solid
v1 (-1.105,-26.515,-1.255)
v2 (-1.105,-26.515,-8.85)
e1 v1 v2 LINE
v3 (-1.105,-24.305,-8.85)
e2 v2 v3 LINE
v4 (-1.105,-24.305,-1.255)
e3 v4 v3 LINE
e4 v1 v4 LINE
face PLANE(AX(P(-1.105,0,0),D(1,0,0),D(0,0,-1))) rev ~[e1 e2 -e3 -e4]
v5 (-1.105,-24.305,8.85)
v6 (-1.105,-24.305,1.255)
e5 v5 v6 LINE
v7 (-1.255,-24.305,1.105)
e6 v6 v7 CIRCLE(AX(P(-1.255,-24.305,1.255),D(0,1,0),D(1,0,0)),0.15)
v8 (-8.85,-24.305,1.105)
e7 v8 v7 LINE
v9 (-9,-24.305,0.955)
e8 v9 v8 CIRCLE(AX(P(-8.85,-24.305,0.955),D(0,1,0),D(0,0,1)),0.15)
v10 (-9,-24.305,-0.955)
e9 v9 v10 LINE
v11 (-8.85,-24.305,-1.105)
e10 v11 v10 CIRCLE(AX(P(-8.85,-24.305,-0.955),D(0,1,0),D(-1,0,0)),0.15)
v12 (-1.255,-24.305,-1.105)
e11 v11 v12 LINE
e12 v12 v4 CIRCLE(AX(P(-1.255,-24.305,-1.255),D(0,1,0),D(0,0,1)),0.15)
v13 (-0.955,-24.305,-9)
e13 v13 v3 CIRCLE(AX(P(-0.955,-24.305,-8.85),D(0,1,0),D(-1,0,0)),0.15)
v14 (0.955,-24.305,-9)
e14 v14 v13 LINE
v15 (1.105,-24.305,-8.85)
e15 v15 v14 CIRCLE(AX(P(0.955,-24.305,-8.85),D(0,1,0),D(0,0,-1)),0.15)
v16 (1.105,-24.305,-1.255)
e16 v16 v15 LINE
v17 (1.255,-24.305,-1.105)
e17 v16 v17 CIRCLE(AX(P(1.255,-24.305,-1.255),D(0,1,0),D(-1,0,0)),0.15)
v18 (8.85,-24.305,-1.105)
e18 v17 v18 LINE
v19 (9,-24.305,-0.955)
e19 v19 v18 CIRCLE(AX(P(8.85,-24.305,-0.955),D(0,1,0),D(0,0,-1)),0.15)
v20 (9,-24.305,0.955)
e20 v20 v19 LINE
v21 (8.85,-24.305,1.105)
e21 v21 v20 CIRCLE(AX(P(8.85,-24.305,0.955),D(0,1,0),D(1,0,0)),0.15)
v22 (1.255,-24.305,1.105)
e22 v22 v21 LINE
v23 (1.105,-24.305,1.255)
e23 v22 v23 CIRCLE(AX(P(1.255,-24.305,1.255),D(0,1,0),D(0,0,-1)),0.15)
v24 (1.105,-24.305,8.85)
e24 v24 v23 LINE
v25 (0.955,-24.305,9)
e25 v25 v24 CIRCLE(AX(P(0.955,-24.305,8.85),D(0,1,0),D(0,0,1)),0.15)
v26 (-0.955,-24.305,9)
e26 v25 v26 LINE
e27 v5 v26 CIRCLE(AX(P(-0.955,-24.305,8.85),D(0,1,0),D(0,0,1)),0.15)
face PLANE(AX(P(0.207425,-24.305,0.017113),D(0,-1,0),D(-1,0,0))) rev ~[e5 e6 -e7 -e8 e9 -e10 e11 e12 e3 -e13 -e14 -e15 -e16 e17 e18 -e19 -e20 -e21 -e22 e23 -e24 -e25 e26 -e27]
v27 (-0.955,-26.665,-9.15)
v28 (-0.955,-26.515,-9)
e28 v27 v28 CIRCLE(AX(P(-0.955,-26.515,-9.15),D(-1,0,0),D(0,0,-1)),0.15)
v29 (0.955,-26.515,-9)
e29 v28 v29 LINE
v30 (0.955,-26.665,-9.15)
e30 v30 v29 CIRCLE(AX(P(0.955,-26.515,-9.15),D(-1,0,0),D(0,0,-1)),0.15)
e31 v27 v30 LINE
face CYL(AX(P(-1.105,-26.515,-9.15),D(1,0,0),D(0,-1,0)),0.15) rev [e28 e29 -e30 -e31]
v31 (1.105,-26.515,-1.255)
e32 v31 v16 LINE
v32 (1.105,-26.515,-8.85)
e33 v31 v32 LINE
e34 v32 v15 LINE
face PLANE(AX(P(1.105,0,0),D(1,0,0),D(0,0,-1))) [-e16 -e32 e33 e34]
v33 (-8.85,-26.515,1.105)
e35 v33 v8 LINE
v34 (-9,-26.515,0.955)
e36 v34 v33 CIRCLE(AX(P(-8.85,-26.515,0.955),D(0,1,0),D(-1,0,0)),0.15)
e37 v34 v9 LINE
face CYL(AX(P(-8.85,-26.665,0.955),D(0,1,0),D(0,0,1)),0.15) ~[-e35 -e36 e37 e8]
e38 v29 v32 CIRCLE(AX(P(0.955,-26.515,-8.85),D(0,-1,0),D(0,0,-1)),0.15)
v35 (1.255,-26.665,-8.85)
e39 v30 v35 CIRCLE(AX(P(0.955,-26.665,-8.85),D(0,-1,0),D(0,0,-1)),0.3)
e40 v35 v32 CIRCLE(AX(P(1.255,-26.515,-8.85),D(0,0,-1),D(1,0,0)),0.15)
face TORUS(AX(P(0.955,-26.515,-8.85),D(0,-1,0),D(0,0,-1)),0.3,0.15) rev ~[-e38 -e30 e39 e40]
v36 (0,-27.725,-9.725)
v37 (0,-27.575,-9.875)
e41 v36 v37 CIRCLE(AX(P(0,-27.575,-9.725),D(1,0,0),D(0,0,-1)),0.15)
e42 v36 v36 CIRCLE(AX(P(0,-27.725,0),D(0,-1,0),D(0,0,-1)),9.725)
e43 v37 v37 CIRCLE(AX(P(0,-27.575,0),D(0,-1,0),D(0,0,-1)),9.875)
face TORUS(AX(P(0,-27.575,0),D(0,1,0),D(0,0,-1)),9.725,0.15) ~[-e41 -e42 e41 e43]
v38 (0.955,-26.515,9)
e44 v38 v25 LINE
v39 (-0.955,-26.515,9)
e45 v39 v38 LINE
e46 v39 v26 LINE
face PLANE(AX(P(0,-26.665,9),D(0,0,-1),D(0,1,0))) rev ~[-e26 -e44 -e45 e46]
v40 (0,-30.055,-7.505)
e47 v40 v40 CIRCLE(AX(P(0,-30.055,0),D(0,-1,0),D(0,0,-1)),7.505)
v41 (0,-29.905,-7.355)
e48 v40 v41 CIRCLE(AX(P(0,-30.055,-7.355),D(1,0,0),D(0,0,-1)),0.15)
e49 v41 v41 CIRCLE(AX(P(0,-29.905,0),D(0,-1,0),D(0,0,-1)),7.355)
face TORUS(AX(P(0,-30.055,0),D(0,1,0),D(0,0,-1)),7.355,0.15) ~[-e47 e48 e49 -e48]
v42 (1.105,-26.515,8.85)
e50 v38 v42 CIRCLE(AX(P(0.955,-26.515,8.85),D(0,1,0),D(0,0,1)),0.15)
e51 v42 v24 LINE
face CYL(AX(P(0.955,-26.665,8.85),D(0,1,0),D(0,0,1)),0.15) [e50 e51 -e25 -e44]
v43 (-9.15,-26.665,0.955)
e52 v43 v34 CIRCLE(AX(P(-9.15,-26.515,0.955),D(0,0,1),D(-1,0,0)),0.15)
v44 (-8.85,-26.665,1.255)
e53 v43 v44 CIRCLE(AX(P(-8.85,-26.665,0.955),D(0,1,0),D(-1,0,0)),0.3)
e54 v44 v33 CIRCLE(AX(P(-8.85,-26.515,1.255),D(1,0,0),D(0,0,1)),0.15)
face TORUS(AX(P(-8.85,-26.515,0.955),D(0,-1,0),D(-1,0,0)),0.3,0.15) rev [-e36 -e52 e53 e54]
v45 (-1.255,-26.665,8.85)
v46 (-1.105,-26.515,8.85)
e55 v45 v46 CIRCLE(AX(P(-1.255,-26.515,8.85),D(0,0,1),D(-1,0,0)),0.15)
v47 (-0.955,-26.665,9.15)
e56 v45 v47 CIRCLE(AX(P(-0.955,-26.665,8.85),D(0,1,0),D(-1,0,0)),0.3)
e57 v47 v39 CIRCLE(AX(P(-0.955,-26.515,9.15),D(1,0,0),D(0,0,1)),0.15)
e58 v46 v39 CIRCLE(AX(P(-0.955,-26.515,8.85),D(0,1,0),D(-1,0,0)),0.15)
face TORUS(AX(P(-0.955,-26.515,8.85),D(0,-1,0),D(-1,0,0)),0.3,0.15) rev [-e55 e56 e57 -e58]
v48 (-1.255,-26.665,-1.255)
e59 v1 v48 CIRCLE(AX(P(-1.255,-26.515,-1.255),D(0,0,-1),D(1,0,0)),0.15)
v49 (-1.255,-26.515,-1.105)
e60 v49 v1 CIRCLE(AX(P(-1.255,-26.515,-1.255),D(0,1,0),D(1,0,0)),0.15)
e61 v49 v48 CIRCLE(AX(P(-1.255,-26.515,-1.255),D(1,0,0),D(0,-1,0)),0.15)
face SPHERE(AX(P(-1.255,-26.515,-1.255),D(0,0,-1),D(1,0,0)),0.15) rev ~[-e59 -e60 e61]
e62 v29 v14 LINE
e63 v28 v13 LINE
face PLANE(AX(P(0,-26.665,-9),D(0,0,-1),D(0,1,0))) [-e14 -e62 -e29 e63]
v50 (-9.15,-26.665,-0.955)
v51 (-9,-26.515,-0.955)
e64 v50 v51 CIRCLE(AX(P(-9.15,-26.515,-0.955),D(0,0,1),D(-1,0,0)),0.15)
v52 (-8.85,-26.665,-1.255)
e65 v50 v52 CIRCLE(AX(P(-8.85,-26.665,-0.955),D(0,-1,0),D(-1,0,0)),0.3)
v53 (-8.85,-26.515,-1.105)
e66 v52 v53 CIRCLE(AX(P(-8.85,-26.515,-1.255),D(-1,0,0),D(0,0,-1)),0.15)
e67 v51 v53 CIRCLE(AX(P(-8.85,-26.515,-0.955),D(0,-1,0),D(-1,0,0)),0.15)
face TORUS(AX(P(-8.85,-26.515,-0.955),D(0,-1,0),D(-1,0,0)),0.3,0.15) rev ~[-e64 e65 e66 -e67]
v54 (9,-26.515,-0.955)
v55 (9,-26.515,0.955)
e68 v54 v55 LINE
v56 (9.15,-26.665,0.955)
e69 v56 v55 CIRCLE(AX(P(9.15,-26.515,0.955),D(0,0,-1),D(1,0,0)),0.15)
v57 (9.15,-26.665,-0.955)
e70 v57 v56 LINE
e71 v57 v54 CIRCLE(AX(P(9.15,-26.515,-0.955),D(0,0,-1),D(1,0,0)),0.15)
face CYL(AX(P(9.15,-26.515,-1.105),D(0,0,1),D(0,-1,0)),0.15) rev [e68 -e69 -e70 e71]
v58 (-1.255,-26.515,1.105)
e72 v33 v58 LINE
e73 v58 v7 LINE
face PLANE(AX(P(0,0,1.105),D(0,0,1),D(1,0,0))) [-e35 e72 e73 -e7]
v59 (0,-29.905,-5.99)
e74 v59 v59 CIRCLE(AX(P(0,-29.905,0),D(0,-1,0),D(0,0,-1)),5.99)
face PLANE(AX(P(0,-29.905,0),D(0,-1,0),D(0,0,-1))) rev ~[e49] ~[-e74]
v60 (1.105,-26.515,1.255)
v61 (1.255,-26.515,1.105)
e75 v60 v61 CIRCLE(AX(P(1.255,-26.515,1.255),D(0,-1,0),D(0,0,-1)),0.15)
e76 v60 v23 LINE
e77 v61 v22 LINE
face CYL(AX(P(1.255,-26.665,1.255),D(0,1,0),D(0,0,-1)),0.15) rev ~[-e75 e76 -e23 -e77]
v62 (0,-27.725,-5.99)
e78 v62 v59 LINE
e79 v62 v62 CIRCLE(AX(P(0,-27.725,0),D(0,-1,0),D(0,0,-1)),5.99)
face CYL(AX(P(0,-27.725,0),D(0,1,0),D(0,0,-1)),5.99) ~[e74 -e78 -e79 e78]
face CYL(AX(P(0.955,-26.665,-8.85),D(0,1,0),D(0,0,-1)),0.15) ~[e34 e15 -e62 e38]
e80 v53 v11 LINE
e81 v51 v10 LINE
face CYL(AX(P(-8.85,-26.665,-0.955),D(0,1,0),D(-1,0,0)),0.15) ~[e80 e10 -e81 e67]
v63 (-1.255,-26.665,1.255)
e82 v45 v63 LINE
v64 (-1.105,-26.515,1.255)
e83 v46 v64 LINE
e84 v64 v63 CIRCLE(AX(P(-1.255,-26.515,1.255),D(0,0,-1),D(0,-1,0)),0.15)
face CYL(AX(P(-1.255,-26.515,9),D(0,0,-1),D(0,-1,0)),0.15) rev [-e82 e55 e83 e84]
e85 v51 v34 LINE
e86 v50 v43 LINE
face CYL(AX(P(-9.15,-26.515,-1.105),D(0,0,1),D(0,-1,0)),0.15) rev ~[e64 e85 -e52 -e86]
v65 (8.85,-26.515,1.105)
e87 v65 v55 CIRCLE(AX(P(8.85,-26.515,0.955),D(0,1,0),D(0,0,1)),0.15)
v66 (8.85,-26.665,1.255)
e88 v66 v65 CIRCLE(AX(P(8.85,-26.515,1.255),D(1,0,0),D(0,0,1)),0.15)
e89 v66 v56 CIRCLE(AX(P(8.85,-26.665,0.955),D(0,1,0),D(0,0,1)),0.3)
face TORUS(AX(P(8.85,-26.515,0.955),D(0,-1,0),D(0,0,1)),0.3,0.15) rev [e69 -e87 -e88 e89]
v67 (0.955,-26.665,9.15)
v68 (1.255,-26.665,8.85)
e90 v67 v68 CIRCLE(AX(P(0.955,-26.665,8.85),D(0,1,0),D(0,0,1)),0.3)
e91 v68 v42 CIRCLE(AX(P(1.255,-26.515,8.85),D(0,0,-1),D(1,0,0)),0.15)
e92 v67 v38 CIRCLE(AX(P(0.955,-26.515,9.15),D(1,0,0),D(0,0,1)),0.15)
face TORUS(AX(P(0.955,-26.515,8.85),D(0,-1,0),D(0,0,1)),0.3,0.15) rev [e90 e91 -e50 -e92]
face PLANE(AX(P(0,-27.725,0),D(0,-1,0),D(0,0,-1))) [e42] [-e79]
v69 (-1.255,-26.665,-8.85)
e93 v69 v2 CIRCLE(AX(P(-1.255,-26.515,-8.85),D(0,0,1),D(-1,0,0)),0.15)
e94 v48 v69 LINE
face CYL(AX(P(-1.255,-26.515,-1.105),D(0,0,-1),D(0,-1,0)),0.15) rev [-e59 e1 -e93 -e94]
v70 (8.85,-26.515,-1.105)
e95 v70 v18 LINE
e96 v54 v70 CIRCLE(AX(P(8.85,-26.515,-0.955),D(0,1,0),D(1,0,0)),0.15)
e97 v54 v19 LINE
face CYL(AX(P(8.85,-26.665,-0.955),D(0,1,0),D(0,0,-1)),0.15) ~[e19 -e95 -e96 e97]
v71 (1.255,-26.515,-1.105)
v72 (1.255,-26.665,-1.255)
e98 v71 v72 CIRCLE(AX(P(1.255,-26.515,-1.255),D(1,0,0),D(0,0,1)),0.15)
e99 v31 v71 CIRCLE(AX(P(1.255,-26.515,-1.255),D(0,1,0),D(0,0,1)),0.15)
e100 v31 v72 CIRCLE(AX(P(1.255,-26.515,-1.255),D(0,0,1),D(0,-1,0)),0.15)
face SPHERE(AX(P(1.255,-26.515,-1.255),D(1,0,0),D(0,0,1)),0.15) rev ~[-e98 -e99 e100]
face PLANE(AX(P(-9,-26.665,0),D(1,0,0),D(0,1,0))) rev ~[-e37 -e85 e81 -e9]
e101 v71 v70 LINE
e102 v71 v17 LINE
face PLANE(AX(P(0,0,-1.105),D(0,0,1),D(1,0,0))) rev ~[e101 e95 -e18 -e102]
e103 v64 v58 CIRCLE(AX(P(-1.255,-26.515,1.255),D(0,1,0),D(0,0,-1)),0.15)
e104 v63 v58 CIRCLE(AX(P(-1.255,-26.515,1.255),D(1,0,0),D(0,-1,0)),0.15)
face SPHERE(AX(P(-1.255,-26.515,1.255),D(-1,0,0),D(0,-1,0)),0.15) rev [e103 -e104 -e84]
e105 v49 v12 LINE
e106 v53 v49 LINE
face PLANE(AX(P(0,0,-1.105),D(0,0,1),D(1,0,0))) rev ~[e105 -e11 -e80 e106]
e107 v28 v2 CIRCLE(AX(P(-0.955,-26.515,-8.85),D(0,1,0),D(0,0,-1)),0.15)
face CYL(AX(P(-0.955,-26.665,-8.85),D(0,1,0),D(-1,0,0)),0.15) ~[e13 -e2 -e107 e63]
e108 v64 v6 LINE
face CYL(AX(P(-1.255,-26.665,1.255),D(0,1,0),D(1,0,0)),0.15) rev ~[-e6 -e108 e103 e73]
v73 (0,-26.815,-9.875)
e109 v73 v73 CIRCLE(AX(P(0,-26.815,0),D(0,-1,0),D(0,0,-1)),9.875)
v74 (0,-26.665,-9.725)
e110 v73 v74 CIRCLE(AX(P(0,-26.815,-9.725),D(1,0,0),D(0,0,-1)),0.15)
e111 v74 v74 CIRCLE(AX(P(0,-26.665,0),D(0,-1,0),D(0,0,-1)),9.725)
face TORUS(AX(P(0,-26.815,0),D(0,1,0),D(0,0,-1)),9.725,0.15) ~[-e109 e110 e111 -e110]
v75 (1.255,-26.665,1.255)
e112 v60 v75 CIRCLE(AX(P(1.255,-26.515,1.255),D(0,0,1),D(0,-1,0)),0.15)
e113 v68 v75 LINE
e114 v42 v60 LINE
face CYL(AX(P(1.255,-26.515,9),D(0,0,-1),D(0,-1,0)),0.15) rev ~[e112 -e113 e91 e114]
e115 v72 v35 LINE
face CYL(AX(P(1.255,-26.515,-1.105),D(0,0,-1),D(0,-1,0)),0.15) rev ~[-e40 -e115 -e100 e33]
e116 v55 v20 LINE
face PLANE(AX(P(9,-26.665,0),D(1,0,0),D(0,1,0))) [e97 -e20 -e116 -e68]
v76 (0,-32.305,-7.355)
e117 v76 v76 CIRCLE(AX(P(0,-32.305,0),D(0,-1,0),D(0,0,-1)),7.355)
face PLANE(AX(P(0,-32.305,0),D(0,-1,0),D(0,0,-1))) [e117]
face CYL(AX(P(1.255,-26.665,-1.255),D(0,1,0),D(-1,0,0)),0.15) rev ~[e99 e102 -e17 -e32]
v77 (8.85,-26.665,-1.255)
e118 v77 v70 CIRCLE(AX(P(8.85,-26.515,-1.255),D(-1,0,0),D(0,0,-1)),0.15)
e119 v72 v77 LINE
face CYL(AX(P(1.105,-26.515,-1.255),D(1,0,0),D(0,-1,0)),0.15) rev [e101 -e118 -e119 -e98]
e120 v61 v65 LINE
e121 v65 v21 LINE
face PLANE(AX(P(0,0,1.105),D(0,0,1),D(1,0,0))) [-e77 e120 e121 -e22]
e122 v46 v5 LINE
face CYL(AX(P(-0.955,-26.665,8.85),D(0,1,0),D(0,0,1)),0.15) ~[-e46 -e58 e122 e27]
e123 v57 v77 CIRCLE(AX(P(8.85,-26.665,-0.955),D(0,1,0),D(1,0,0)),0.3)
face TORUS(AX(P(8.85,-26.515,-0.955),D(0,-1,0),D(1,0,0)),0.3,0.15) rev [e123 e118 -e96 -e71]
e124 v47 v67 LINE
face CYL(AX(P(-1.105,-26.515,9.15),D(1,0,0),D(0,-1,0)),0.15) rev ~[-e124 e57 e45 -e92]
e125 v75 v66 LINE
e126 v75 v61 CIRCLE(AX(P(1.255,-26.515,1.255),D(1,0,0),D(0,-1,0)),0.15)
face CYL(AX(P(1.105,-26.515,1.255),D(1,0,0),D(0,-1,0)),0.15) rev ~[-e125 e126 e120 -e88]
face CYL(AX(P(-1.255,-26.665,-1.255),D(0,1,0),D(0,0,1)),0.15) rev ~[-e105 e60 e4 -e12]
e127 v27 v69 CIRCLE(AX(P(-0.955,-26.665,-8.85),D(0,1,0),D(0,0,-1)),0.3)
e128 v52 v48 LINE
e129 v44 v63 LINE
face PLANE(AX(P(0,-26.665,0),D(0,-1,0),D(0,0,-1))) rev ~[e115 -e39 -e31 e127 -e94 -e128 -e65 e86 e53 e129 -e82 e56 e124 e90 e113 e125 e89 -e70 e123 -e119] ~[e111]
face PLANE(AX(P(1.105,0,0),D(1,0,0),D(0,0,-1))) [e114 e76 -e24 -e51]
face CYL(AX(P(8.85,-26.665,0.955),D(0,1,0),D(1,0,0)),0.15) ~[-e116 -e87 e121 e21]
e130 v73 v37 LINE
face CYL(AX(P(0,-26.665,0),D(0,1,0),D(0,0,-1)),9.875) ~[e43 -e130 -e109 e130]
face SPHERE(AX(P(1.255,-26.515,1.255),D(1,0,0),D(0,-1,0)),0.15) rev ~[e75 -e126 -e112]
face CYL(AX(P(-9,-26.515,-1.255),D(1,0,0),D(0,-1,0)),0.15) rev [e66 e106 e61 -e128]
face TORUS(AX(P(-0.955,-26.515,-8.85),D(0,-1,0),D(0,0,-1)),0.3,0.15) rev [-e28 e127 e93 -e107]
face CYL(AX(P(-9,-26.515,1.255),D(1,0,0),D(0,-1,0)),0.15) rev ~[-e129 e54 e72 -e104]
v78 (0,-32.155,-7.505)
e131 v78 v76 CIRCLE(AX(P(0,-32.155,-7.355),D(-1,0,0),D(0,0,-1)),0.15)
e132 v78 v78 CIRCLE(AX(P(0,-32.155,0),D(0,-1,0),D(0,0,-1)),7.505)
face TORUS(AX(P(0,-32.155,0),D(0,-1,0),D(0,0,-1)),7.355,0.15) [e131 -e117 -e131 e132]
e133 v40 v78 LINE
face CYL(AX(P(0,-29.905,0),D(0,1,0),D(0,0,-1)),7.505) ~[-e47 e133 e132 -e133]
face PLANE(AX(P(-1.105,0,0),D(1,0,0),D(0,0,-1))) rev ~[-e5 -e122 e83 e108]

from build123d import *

# Parameters (mm, degrees)
MAIN_BODY_SKETCH_W                         = 18
MAIN_BODY_SKETCH_H                         = 53.33
HALF_MAIN_BODY_EXTRUDE_DEPTH               = 1.105
HALF_MAIN_BODY_COPY_ANGLE                  = 90
BOTTOM_BASE_SKETCH_R                       = 13
BOTTOM_BASE_EXTRUDE_DEPTH                  = 2.71
PROTRUSIONS_SKETCH_W                       = 1.88
PROTRUSIONS_SKETCH_H                       = 17.3
PROTRUSIONS_EXTRUDE_DEPTH                  = 0.97
PROTRUSIONS_SMOOTHING_R                    = 0.9
PROTRUSIONS_SMOOTHING_PLATFORM_R           = 0.1
LPATTERN1_COUNT                            = 3
LPATTERN1_PITCH                            = 3.76
PROTRUSIONS_SMOOTHING_OF_LPATTERN1_R       = 0.9
PROTRUSIONS_SMOOTHING_PLATFORM_OF_LPATTE_R = 0.1
LPATTERN1_COL_COUNT                        = 3
LPATTERN1_COL_PITCH                        = 3.76
PROTRUSIONS_SMOOTHING_OF_LPATTERN1_COL_R   = 0.9
PROTRUSIONS_SMOOTHING_PLATFORM_OF_LP_2_R   = 0.1
TOP_BASE_SKETCH_R                          = 9.875
TOP_BASE_EXTRUDE_DEPTH                     = 1.06
TOP_INTERMEDIATE_SKETCH_R                  = 5.99
TOP_INTERMEDIATE_BASE_EXTRUDE_DEPTH        = 2.18
OUTER_BASE_SKETCH_R                        = 7.505
OUTER_BASE_EXTRUDE_DEPTH                   = 2.4
SMOOTHING_FILLETS_R                        = 0.15
SKETCH2_W                                  = 38.243274693
SKETCH2_H                                  = 31.26110006
CUT_EXTRUDE1_DEPTH                         = 58.65953968


with BuildPart() as part:
    # Main Body Sketch → Half Main Body Extrude (new, symmetric)
    with BuildSketch(Plane.XY):
        Rectangle(MAIN_BODY_SKETCH_W, MAIN_BODY_SKETCH_H)
    extrude(amount=HALF_MAIN_BODY_EXTRUDE_DEPTH, both=True)


with BuildPart() as body_2:
    # Half Main Body Copy: copy of part
    add(part.part.rotate(Axis((0, 0, 0), (0, 1, 0)), HALF_MAIN_BODY_COPY_ANGLE))


with BuildPart() as part_1:
    add(part.part)

    add(body_2.part)  # Bottom Base Extrude merges body 2
    # Bottom Base Sketch → Bottom Base Extrude (add)
    with BuildSketch(Plane(origin=(0, 26.665, 0), x_dir=(1, 0, 0), z_dir=(0, 1, 0))):
        with Locations(Location((0, 0, 0), (0, 0, 270))):
            Circle(BOTTOM_BASE_SKETCH_R)
    extrude(amount=BOTTOM_BASE_EXTRUDE_DEPTH)

    # Protrusions Sketch → Protrusions Extrude (add)
    with BuildSketch(Plane(origin=(0, 29.375, 0), x_dir=(1, 0, 0), z_dir=(0, 1, 0))):
        Rectangle(PROTRUSIONS_SKETCH_W, PROTRUSIONS_SKETCH_H)
    protrusions_extrude = extrude(amount=PROTRUSIONS_EXTRUDE_DEPTH)

    # Protrusions Smoothing
    protrusions_smoothing_edges = [part_1.edges().sort_by_distance(p)[0] for p in [
        (0, 30.345, -8.65),
        (0.94, 29.86, -8.65),
        (-0.94, 30.345, 0),
        (-0.94, 29.86, -8.65),
        (-0.94, 29.86, 8.65),
        (0.94, 29.86, 8.65),
        (0, 30.345, 8.65),
        (0.94, 30.345, 0),
    ]]
    fillet(protrusions_smoothing_edges, radius=PROTRUSIONS_SMOOTHING_R)

    # Protrusions Smoothing Platform
    protrusions_smoothing_platform_edges = [part_1.edges().sort_by_distance(p)[0] for p in [
        (0, 29.375, 8.65),
        (0, 29.375, -8.65),
        (0.676396103, 29.375, -8.386396103),
        (0.94, 29.375, 0),
        (0.676396103, 29.375, 8.386396103),
        (-0.676396103, 29.375, -8.386396103),
        (-0.676396103, 29.375, 8.386396103),
        (-0.94, 29.375, 0),
    ]]
    fillet(protrusions_smoothing_platform_edges, radius=PROTRUSIONS_SMOOTHING_PLATFORM_R)

    # LPattern1: Protrusions Extrude ×3
    with Locations(*[(i * LPATTERN1_PITCH, 0, 0) for i in range(1, LPATTERN1_COUNT)]):
        add(protrusions_extrude)

    # Protrusions Smoothing of LPattern1
    protrusions_smoothing_of_lpattern1_edges = [part_1.edges().sort_by_distance(p)[0] for p in [
        (3.76, 30.345, -8.65),
        (4.7, 29.86, -8.65),
        (2.82, 30.345, 0),
        (2.82, 29.86, -8.65),
        (2.82, 29.86, 8.65),
        (4.7, 29.86, 8.65),
        (3.76, 30.345, 8.65),
        (4.7, 30.345, 0),
        (7.52, 30.345, -8.65),
        (8.46, 29.86, -8.65),
        (6.58, 30.345, 0),
        (6.58, 29.86, -8.65),
        (6.58, 29.86, 8.65),
        (8.46, 29.86, 8.65),
        (7.52, 30.345, 8.65),
        (8.46, 30.345, 0),
    ]]
    fillet(protrusions_smoothing_of_lpattern1_edges, radius=PROTRUSIONS_SMOOTHING_OF_LPATTERN1_R)

    # Protrusions Smoothing Platform of LPatte
    protrusions_smoothing_platform_of_lpatte_edges = [part_1.edges().sort_by_distance(p)[0] for p in [
        (3.76, 29.375, 8.65),
        (3.76, 29.375, -8.65),
        (4.436396103, 29.375, -8.386396103),
        (4.7, 29.375, 0),
        (4.436396103, 29.375, 8.386396103),
        (3.083603897, 29.375, -8.386396103),
        (3.083603897, 29.375, 8.386396103),
        (2.82, 29.375, 0),
        (7.52, 29.375, 8.65),
        (7.52, 29.375, -8.65),
        (8.196396103, 29.375, -8.386396103),
        (8.46, 29.375, 0),
        (8.196396103, 29.375, 8.386396103),
        (6.843603897, 29.375, -8.386396103),
        (6.843603897, 29.375, 8.386396103),
        (6.58, 29.375, 0),
    ]]
    fillet(protrusions_smoothing_platform_of_lpatte_edges, radius=PROTRUSIONS_SMOOTHING_PLATFORM_OF_LPATTE_R)

    # LPattern1 col: Protrusions Extrude ×3
    with Locations(*[(-i * LPATTERN1_COL_PITCH, 0, 0) for i in range(1, LPATTERN1_COL_COUNT)]):
        add(protrusions_extrude)

    # Protrusions Smoothing of LPattern1 col
    protrusions_smoothing_of_lpattern1_col_edges = [part_1.edges().sort_by_distance(p)[0] for p in [
        (-3.76, 30.345, -8.65),
        (-2.82, 29.86, -8.65),
        (-4.7, 30.345, 0),
        (-4.7, 29.86, -8.65),
        (-4.7, 29.86, 8.65),
        (-2.82, 29.86, 8.65),
        (-3.76, 30.345, 8.65),
        (-2.82, 30.345, 0),
        (-7.52, 30.345, -8.65),
        (-6.58, 29.86, -8.65),
        (-8.46, 30.345, 0),
        (-8.46, 29.86, -8.65),
        (-8.46, 29.86, 8.65),
        (-6.58, 29.86, 8.65),
        (-7.52, 30.345, 8.65),
        (-6.58, 30.345, 0),
    ]]
    fillet(protrusions_smoothing_of_lpattern1_col_edges, radius=PROTRUSIONS_SMOOTHING_OF_LPATTERN1_COL_R)

    # Protrusions Smoothing Platform of LP 2
    protrusions_smoothing_platform_of_lp_2_edges = [part_1.edges().sort_by_distance(p)[0] for p in [
        (-3.76, 29.375, 8.65),
        (-3.76, 29.375, -8.65),
        (-3.083603897, 29.375, -8.386396103),
        (-2.82, 29.375, 0),
        (-3.083603897, 29.375, 8.386396103),
        (-4.436396103, 29.375, -8.386396103),
        (-4.436396103, 29.375, 8.386396103),
        (-4.7, 29.375, 0),
        (-7.52, 29.375, 8.65),
        (-7.52, 29.375, -8.65),
        (-6.843603897, 29.375, -8.386396103),
        (-6.58, 29.375, 0),
        (-6.843603897, 29.375, 8.386396103),
        (-8.196396103, 29.375, -8.386396103),
        (-8.196396103, 29.375, 8.386396103),
        (-8.46, 29.375, 0),
    ]]
    fillet(protrusions_smoothing_platform_of_lp_2_edges, radius=PROTRUSIONS_SMOOTHING_PLATFORM_OF_LP_2_R)

    # Top Base Sketch → Top Base Extrude (add)
    with BuildSketch(Plane(origin=(0, -26.665, 0), x_dir=(-1, 0, 0), z_dir=(0, -1, 0))):
        with Locations(Location((0, 0, 0), (0, 0, 90))):
            Circle(TOP_BASE_SKETCH_R)
    extrude(amount=TOP_BASE_EXTRUDE_DEPTH)

    # Top Intermediate Sketch → Top Intermediate Base Extrude (add)
    with BuildSketch(Plane(origin=(0, -27.725, 0), x_dir=(-1, 0, 0), z_dir=(0, -1, 0))):
        with Locations(Location((0, 0, 0), (0, 0, 90))):
            Circle(TOP_INTERMEDIATE_SKETCH_R)
    extrude(amount=TOP_INTERMEDIATE_BASE_EXTRUDE_DEPTH)

    # Outer Base Sketch → Outer Base Extrude (add)
    with BuildSketch(Plane(origin=(0, -29.905, 0), x_dir=(-1, 0, 0), z_dir=(0, -1, 0))):
        with Locations(Location((0, 0, 0), (0, 0, 90))):
            Circle(OUTER_BASE_SKETCH_R)
    extrude(amount=OUTER_BASE_EXTRUDE_DEPTH)

    # Smoothing Fillets
    smoothing_fillets_edges = [part_1.edges().sort_by_distance(p)[0] for p in [
        (9, 0, 1.105),
        (0, 26.665, -13),
        (0, 29.375, -13),
        (-5.0525, -26.665, 1.105),
        (5.0525, 26.665, -1.105),
        (5.0525, 26.665, 1.105),
        (-1.105, 26.665, -5.0525),
        (1.105, 26.665, -5.0525),
        (5.0525, -26.665, -1.105),
        (5.0525, -26.665, 1.105),
        (0, -26.665, 9.875),
        (0, -27.725, 9.875),
        (0, -29.905, 7.505),
        (0, -32.305, 7.505),
        (-1.105, -26.665, 5.0525),
        (0, -26.665, 9),
        (1.105, 26.665, 5.0525),
        (1.105, -26.665, 5.0525),
        (1.105, 0, 1.105),
        (1.105, 0, -1.105),
        (-1.105, 0, 9),
        (-1.105, 26.665, 5.0525),
        (-1.105, 0, 1.105),
        (1.105, 0, 9),
        (0, 26.665, 9),
        (-1.105, -26.665, -5.0525),
        (-1.105, 0, -9),
        (0, -26.665, -9),
        (0, 26.665, -9),
        (1.105, -26.665, -5.0525),
        (1.105, 0, -9),
        (-1.105, 0, -1.105),
        (-9, 0, 1.105),
        (-5.0525, -26.665, -1.105),
        (9, 0, -1.105),
        (-5.0525, 26.665, -1.105),
        (-9, 0, -1.105),
        (-9, -26.665, 0),
        (9, -26.665, 0),
        (9, 26.665, 0),
        (-9, 26.665, 0),
        (-5.0525, 26.665, 1.105),
    ]]
    fillet(smoothing_fillets_edges, radius=SMOOTHING_FILLETS_R)

    # Sketch2 → Cut-Extrude1 (cut, through all)
    with BuildSketch(Plane(origin=(0, -24.305, 0), x_dir=(-1, 0, 0), z_dir=(0, -1, 0))):
        with Locations((-0.207424694, -0.017113173)):
            Rectangle(SKETCH2_W, SKETCH2_H)
    extrude(amount=-CUT_EXTRUDE1_DEPTH, mode=Mode.SUBTRACT)


solid = part_1.part
